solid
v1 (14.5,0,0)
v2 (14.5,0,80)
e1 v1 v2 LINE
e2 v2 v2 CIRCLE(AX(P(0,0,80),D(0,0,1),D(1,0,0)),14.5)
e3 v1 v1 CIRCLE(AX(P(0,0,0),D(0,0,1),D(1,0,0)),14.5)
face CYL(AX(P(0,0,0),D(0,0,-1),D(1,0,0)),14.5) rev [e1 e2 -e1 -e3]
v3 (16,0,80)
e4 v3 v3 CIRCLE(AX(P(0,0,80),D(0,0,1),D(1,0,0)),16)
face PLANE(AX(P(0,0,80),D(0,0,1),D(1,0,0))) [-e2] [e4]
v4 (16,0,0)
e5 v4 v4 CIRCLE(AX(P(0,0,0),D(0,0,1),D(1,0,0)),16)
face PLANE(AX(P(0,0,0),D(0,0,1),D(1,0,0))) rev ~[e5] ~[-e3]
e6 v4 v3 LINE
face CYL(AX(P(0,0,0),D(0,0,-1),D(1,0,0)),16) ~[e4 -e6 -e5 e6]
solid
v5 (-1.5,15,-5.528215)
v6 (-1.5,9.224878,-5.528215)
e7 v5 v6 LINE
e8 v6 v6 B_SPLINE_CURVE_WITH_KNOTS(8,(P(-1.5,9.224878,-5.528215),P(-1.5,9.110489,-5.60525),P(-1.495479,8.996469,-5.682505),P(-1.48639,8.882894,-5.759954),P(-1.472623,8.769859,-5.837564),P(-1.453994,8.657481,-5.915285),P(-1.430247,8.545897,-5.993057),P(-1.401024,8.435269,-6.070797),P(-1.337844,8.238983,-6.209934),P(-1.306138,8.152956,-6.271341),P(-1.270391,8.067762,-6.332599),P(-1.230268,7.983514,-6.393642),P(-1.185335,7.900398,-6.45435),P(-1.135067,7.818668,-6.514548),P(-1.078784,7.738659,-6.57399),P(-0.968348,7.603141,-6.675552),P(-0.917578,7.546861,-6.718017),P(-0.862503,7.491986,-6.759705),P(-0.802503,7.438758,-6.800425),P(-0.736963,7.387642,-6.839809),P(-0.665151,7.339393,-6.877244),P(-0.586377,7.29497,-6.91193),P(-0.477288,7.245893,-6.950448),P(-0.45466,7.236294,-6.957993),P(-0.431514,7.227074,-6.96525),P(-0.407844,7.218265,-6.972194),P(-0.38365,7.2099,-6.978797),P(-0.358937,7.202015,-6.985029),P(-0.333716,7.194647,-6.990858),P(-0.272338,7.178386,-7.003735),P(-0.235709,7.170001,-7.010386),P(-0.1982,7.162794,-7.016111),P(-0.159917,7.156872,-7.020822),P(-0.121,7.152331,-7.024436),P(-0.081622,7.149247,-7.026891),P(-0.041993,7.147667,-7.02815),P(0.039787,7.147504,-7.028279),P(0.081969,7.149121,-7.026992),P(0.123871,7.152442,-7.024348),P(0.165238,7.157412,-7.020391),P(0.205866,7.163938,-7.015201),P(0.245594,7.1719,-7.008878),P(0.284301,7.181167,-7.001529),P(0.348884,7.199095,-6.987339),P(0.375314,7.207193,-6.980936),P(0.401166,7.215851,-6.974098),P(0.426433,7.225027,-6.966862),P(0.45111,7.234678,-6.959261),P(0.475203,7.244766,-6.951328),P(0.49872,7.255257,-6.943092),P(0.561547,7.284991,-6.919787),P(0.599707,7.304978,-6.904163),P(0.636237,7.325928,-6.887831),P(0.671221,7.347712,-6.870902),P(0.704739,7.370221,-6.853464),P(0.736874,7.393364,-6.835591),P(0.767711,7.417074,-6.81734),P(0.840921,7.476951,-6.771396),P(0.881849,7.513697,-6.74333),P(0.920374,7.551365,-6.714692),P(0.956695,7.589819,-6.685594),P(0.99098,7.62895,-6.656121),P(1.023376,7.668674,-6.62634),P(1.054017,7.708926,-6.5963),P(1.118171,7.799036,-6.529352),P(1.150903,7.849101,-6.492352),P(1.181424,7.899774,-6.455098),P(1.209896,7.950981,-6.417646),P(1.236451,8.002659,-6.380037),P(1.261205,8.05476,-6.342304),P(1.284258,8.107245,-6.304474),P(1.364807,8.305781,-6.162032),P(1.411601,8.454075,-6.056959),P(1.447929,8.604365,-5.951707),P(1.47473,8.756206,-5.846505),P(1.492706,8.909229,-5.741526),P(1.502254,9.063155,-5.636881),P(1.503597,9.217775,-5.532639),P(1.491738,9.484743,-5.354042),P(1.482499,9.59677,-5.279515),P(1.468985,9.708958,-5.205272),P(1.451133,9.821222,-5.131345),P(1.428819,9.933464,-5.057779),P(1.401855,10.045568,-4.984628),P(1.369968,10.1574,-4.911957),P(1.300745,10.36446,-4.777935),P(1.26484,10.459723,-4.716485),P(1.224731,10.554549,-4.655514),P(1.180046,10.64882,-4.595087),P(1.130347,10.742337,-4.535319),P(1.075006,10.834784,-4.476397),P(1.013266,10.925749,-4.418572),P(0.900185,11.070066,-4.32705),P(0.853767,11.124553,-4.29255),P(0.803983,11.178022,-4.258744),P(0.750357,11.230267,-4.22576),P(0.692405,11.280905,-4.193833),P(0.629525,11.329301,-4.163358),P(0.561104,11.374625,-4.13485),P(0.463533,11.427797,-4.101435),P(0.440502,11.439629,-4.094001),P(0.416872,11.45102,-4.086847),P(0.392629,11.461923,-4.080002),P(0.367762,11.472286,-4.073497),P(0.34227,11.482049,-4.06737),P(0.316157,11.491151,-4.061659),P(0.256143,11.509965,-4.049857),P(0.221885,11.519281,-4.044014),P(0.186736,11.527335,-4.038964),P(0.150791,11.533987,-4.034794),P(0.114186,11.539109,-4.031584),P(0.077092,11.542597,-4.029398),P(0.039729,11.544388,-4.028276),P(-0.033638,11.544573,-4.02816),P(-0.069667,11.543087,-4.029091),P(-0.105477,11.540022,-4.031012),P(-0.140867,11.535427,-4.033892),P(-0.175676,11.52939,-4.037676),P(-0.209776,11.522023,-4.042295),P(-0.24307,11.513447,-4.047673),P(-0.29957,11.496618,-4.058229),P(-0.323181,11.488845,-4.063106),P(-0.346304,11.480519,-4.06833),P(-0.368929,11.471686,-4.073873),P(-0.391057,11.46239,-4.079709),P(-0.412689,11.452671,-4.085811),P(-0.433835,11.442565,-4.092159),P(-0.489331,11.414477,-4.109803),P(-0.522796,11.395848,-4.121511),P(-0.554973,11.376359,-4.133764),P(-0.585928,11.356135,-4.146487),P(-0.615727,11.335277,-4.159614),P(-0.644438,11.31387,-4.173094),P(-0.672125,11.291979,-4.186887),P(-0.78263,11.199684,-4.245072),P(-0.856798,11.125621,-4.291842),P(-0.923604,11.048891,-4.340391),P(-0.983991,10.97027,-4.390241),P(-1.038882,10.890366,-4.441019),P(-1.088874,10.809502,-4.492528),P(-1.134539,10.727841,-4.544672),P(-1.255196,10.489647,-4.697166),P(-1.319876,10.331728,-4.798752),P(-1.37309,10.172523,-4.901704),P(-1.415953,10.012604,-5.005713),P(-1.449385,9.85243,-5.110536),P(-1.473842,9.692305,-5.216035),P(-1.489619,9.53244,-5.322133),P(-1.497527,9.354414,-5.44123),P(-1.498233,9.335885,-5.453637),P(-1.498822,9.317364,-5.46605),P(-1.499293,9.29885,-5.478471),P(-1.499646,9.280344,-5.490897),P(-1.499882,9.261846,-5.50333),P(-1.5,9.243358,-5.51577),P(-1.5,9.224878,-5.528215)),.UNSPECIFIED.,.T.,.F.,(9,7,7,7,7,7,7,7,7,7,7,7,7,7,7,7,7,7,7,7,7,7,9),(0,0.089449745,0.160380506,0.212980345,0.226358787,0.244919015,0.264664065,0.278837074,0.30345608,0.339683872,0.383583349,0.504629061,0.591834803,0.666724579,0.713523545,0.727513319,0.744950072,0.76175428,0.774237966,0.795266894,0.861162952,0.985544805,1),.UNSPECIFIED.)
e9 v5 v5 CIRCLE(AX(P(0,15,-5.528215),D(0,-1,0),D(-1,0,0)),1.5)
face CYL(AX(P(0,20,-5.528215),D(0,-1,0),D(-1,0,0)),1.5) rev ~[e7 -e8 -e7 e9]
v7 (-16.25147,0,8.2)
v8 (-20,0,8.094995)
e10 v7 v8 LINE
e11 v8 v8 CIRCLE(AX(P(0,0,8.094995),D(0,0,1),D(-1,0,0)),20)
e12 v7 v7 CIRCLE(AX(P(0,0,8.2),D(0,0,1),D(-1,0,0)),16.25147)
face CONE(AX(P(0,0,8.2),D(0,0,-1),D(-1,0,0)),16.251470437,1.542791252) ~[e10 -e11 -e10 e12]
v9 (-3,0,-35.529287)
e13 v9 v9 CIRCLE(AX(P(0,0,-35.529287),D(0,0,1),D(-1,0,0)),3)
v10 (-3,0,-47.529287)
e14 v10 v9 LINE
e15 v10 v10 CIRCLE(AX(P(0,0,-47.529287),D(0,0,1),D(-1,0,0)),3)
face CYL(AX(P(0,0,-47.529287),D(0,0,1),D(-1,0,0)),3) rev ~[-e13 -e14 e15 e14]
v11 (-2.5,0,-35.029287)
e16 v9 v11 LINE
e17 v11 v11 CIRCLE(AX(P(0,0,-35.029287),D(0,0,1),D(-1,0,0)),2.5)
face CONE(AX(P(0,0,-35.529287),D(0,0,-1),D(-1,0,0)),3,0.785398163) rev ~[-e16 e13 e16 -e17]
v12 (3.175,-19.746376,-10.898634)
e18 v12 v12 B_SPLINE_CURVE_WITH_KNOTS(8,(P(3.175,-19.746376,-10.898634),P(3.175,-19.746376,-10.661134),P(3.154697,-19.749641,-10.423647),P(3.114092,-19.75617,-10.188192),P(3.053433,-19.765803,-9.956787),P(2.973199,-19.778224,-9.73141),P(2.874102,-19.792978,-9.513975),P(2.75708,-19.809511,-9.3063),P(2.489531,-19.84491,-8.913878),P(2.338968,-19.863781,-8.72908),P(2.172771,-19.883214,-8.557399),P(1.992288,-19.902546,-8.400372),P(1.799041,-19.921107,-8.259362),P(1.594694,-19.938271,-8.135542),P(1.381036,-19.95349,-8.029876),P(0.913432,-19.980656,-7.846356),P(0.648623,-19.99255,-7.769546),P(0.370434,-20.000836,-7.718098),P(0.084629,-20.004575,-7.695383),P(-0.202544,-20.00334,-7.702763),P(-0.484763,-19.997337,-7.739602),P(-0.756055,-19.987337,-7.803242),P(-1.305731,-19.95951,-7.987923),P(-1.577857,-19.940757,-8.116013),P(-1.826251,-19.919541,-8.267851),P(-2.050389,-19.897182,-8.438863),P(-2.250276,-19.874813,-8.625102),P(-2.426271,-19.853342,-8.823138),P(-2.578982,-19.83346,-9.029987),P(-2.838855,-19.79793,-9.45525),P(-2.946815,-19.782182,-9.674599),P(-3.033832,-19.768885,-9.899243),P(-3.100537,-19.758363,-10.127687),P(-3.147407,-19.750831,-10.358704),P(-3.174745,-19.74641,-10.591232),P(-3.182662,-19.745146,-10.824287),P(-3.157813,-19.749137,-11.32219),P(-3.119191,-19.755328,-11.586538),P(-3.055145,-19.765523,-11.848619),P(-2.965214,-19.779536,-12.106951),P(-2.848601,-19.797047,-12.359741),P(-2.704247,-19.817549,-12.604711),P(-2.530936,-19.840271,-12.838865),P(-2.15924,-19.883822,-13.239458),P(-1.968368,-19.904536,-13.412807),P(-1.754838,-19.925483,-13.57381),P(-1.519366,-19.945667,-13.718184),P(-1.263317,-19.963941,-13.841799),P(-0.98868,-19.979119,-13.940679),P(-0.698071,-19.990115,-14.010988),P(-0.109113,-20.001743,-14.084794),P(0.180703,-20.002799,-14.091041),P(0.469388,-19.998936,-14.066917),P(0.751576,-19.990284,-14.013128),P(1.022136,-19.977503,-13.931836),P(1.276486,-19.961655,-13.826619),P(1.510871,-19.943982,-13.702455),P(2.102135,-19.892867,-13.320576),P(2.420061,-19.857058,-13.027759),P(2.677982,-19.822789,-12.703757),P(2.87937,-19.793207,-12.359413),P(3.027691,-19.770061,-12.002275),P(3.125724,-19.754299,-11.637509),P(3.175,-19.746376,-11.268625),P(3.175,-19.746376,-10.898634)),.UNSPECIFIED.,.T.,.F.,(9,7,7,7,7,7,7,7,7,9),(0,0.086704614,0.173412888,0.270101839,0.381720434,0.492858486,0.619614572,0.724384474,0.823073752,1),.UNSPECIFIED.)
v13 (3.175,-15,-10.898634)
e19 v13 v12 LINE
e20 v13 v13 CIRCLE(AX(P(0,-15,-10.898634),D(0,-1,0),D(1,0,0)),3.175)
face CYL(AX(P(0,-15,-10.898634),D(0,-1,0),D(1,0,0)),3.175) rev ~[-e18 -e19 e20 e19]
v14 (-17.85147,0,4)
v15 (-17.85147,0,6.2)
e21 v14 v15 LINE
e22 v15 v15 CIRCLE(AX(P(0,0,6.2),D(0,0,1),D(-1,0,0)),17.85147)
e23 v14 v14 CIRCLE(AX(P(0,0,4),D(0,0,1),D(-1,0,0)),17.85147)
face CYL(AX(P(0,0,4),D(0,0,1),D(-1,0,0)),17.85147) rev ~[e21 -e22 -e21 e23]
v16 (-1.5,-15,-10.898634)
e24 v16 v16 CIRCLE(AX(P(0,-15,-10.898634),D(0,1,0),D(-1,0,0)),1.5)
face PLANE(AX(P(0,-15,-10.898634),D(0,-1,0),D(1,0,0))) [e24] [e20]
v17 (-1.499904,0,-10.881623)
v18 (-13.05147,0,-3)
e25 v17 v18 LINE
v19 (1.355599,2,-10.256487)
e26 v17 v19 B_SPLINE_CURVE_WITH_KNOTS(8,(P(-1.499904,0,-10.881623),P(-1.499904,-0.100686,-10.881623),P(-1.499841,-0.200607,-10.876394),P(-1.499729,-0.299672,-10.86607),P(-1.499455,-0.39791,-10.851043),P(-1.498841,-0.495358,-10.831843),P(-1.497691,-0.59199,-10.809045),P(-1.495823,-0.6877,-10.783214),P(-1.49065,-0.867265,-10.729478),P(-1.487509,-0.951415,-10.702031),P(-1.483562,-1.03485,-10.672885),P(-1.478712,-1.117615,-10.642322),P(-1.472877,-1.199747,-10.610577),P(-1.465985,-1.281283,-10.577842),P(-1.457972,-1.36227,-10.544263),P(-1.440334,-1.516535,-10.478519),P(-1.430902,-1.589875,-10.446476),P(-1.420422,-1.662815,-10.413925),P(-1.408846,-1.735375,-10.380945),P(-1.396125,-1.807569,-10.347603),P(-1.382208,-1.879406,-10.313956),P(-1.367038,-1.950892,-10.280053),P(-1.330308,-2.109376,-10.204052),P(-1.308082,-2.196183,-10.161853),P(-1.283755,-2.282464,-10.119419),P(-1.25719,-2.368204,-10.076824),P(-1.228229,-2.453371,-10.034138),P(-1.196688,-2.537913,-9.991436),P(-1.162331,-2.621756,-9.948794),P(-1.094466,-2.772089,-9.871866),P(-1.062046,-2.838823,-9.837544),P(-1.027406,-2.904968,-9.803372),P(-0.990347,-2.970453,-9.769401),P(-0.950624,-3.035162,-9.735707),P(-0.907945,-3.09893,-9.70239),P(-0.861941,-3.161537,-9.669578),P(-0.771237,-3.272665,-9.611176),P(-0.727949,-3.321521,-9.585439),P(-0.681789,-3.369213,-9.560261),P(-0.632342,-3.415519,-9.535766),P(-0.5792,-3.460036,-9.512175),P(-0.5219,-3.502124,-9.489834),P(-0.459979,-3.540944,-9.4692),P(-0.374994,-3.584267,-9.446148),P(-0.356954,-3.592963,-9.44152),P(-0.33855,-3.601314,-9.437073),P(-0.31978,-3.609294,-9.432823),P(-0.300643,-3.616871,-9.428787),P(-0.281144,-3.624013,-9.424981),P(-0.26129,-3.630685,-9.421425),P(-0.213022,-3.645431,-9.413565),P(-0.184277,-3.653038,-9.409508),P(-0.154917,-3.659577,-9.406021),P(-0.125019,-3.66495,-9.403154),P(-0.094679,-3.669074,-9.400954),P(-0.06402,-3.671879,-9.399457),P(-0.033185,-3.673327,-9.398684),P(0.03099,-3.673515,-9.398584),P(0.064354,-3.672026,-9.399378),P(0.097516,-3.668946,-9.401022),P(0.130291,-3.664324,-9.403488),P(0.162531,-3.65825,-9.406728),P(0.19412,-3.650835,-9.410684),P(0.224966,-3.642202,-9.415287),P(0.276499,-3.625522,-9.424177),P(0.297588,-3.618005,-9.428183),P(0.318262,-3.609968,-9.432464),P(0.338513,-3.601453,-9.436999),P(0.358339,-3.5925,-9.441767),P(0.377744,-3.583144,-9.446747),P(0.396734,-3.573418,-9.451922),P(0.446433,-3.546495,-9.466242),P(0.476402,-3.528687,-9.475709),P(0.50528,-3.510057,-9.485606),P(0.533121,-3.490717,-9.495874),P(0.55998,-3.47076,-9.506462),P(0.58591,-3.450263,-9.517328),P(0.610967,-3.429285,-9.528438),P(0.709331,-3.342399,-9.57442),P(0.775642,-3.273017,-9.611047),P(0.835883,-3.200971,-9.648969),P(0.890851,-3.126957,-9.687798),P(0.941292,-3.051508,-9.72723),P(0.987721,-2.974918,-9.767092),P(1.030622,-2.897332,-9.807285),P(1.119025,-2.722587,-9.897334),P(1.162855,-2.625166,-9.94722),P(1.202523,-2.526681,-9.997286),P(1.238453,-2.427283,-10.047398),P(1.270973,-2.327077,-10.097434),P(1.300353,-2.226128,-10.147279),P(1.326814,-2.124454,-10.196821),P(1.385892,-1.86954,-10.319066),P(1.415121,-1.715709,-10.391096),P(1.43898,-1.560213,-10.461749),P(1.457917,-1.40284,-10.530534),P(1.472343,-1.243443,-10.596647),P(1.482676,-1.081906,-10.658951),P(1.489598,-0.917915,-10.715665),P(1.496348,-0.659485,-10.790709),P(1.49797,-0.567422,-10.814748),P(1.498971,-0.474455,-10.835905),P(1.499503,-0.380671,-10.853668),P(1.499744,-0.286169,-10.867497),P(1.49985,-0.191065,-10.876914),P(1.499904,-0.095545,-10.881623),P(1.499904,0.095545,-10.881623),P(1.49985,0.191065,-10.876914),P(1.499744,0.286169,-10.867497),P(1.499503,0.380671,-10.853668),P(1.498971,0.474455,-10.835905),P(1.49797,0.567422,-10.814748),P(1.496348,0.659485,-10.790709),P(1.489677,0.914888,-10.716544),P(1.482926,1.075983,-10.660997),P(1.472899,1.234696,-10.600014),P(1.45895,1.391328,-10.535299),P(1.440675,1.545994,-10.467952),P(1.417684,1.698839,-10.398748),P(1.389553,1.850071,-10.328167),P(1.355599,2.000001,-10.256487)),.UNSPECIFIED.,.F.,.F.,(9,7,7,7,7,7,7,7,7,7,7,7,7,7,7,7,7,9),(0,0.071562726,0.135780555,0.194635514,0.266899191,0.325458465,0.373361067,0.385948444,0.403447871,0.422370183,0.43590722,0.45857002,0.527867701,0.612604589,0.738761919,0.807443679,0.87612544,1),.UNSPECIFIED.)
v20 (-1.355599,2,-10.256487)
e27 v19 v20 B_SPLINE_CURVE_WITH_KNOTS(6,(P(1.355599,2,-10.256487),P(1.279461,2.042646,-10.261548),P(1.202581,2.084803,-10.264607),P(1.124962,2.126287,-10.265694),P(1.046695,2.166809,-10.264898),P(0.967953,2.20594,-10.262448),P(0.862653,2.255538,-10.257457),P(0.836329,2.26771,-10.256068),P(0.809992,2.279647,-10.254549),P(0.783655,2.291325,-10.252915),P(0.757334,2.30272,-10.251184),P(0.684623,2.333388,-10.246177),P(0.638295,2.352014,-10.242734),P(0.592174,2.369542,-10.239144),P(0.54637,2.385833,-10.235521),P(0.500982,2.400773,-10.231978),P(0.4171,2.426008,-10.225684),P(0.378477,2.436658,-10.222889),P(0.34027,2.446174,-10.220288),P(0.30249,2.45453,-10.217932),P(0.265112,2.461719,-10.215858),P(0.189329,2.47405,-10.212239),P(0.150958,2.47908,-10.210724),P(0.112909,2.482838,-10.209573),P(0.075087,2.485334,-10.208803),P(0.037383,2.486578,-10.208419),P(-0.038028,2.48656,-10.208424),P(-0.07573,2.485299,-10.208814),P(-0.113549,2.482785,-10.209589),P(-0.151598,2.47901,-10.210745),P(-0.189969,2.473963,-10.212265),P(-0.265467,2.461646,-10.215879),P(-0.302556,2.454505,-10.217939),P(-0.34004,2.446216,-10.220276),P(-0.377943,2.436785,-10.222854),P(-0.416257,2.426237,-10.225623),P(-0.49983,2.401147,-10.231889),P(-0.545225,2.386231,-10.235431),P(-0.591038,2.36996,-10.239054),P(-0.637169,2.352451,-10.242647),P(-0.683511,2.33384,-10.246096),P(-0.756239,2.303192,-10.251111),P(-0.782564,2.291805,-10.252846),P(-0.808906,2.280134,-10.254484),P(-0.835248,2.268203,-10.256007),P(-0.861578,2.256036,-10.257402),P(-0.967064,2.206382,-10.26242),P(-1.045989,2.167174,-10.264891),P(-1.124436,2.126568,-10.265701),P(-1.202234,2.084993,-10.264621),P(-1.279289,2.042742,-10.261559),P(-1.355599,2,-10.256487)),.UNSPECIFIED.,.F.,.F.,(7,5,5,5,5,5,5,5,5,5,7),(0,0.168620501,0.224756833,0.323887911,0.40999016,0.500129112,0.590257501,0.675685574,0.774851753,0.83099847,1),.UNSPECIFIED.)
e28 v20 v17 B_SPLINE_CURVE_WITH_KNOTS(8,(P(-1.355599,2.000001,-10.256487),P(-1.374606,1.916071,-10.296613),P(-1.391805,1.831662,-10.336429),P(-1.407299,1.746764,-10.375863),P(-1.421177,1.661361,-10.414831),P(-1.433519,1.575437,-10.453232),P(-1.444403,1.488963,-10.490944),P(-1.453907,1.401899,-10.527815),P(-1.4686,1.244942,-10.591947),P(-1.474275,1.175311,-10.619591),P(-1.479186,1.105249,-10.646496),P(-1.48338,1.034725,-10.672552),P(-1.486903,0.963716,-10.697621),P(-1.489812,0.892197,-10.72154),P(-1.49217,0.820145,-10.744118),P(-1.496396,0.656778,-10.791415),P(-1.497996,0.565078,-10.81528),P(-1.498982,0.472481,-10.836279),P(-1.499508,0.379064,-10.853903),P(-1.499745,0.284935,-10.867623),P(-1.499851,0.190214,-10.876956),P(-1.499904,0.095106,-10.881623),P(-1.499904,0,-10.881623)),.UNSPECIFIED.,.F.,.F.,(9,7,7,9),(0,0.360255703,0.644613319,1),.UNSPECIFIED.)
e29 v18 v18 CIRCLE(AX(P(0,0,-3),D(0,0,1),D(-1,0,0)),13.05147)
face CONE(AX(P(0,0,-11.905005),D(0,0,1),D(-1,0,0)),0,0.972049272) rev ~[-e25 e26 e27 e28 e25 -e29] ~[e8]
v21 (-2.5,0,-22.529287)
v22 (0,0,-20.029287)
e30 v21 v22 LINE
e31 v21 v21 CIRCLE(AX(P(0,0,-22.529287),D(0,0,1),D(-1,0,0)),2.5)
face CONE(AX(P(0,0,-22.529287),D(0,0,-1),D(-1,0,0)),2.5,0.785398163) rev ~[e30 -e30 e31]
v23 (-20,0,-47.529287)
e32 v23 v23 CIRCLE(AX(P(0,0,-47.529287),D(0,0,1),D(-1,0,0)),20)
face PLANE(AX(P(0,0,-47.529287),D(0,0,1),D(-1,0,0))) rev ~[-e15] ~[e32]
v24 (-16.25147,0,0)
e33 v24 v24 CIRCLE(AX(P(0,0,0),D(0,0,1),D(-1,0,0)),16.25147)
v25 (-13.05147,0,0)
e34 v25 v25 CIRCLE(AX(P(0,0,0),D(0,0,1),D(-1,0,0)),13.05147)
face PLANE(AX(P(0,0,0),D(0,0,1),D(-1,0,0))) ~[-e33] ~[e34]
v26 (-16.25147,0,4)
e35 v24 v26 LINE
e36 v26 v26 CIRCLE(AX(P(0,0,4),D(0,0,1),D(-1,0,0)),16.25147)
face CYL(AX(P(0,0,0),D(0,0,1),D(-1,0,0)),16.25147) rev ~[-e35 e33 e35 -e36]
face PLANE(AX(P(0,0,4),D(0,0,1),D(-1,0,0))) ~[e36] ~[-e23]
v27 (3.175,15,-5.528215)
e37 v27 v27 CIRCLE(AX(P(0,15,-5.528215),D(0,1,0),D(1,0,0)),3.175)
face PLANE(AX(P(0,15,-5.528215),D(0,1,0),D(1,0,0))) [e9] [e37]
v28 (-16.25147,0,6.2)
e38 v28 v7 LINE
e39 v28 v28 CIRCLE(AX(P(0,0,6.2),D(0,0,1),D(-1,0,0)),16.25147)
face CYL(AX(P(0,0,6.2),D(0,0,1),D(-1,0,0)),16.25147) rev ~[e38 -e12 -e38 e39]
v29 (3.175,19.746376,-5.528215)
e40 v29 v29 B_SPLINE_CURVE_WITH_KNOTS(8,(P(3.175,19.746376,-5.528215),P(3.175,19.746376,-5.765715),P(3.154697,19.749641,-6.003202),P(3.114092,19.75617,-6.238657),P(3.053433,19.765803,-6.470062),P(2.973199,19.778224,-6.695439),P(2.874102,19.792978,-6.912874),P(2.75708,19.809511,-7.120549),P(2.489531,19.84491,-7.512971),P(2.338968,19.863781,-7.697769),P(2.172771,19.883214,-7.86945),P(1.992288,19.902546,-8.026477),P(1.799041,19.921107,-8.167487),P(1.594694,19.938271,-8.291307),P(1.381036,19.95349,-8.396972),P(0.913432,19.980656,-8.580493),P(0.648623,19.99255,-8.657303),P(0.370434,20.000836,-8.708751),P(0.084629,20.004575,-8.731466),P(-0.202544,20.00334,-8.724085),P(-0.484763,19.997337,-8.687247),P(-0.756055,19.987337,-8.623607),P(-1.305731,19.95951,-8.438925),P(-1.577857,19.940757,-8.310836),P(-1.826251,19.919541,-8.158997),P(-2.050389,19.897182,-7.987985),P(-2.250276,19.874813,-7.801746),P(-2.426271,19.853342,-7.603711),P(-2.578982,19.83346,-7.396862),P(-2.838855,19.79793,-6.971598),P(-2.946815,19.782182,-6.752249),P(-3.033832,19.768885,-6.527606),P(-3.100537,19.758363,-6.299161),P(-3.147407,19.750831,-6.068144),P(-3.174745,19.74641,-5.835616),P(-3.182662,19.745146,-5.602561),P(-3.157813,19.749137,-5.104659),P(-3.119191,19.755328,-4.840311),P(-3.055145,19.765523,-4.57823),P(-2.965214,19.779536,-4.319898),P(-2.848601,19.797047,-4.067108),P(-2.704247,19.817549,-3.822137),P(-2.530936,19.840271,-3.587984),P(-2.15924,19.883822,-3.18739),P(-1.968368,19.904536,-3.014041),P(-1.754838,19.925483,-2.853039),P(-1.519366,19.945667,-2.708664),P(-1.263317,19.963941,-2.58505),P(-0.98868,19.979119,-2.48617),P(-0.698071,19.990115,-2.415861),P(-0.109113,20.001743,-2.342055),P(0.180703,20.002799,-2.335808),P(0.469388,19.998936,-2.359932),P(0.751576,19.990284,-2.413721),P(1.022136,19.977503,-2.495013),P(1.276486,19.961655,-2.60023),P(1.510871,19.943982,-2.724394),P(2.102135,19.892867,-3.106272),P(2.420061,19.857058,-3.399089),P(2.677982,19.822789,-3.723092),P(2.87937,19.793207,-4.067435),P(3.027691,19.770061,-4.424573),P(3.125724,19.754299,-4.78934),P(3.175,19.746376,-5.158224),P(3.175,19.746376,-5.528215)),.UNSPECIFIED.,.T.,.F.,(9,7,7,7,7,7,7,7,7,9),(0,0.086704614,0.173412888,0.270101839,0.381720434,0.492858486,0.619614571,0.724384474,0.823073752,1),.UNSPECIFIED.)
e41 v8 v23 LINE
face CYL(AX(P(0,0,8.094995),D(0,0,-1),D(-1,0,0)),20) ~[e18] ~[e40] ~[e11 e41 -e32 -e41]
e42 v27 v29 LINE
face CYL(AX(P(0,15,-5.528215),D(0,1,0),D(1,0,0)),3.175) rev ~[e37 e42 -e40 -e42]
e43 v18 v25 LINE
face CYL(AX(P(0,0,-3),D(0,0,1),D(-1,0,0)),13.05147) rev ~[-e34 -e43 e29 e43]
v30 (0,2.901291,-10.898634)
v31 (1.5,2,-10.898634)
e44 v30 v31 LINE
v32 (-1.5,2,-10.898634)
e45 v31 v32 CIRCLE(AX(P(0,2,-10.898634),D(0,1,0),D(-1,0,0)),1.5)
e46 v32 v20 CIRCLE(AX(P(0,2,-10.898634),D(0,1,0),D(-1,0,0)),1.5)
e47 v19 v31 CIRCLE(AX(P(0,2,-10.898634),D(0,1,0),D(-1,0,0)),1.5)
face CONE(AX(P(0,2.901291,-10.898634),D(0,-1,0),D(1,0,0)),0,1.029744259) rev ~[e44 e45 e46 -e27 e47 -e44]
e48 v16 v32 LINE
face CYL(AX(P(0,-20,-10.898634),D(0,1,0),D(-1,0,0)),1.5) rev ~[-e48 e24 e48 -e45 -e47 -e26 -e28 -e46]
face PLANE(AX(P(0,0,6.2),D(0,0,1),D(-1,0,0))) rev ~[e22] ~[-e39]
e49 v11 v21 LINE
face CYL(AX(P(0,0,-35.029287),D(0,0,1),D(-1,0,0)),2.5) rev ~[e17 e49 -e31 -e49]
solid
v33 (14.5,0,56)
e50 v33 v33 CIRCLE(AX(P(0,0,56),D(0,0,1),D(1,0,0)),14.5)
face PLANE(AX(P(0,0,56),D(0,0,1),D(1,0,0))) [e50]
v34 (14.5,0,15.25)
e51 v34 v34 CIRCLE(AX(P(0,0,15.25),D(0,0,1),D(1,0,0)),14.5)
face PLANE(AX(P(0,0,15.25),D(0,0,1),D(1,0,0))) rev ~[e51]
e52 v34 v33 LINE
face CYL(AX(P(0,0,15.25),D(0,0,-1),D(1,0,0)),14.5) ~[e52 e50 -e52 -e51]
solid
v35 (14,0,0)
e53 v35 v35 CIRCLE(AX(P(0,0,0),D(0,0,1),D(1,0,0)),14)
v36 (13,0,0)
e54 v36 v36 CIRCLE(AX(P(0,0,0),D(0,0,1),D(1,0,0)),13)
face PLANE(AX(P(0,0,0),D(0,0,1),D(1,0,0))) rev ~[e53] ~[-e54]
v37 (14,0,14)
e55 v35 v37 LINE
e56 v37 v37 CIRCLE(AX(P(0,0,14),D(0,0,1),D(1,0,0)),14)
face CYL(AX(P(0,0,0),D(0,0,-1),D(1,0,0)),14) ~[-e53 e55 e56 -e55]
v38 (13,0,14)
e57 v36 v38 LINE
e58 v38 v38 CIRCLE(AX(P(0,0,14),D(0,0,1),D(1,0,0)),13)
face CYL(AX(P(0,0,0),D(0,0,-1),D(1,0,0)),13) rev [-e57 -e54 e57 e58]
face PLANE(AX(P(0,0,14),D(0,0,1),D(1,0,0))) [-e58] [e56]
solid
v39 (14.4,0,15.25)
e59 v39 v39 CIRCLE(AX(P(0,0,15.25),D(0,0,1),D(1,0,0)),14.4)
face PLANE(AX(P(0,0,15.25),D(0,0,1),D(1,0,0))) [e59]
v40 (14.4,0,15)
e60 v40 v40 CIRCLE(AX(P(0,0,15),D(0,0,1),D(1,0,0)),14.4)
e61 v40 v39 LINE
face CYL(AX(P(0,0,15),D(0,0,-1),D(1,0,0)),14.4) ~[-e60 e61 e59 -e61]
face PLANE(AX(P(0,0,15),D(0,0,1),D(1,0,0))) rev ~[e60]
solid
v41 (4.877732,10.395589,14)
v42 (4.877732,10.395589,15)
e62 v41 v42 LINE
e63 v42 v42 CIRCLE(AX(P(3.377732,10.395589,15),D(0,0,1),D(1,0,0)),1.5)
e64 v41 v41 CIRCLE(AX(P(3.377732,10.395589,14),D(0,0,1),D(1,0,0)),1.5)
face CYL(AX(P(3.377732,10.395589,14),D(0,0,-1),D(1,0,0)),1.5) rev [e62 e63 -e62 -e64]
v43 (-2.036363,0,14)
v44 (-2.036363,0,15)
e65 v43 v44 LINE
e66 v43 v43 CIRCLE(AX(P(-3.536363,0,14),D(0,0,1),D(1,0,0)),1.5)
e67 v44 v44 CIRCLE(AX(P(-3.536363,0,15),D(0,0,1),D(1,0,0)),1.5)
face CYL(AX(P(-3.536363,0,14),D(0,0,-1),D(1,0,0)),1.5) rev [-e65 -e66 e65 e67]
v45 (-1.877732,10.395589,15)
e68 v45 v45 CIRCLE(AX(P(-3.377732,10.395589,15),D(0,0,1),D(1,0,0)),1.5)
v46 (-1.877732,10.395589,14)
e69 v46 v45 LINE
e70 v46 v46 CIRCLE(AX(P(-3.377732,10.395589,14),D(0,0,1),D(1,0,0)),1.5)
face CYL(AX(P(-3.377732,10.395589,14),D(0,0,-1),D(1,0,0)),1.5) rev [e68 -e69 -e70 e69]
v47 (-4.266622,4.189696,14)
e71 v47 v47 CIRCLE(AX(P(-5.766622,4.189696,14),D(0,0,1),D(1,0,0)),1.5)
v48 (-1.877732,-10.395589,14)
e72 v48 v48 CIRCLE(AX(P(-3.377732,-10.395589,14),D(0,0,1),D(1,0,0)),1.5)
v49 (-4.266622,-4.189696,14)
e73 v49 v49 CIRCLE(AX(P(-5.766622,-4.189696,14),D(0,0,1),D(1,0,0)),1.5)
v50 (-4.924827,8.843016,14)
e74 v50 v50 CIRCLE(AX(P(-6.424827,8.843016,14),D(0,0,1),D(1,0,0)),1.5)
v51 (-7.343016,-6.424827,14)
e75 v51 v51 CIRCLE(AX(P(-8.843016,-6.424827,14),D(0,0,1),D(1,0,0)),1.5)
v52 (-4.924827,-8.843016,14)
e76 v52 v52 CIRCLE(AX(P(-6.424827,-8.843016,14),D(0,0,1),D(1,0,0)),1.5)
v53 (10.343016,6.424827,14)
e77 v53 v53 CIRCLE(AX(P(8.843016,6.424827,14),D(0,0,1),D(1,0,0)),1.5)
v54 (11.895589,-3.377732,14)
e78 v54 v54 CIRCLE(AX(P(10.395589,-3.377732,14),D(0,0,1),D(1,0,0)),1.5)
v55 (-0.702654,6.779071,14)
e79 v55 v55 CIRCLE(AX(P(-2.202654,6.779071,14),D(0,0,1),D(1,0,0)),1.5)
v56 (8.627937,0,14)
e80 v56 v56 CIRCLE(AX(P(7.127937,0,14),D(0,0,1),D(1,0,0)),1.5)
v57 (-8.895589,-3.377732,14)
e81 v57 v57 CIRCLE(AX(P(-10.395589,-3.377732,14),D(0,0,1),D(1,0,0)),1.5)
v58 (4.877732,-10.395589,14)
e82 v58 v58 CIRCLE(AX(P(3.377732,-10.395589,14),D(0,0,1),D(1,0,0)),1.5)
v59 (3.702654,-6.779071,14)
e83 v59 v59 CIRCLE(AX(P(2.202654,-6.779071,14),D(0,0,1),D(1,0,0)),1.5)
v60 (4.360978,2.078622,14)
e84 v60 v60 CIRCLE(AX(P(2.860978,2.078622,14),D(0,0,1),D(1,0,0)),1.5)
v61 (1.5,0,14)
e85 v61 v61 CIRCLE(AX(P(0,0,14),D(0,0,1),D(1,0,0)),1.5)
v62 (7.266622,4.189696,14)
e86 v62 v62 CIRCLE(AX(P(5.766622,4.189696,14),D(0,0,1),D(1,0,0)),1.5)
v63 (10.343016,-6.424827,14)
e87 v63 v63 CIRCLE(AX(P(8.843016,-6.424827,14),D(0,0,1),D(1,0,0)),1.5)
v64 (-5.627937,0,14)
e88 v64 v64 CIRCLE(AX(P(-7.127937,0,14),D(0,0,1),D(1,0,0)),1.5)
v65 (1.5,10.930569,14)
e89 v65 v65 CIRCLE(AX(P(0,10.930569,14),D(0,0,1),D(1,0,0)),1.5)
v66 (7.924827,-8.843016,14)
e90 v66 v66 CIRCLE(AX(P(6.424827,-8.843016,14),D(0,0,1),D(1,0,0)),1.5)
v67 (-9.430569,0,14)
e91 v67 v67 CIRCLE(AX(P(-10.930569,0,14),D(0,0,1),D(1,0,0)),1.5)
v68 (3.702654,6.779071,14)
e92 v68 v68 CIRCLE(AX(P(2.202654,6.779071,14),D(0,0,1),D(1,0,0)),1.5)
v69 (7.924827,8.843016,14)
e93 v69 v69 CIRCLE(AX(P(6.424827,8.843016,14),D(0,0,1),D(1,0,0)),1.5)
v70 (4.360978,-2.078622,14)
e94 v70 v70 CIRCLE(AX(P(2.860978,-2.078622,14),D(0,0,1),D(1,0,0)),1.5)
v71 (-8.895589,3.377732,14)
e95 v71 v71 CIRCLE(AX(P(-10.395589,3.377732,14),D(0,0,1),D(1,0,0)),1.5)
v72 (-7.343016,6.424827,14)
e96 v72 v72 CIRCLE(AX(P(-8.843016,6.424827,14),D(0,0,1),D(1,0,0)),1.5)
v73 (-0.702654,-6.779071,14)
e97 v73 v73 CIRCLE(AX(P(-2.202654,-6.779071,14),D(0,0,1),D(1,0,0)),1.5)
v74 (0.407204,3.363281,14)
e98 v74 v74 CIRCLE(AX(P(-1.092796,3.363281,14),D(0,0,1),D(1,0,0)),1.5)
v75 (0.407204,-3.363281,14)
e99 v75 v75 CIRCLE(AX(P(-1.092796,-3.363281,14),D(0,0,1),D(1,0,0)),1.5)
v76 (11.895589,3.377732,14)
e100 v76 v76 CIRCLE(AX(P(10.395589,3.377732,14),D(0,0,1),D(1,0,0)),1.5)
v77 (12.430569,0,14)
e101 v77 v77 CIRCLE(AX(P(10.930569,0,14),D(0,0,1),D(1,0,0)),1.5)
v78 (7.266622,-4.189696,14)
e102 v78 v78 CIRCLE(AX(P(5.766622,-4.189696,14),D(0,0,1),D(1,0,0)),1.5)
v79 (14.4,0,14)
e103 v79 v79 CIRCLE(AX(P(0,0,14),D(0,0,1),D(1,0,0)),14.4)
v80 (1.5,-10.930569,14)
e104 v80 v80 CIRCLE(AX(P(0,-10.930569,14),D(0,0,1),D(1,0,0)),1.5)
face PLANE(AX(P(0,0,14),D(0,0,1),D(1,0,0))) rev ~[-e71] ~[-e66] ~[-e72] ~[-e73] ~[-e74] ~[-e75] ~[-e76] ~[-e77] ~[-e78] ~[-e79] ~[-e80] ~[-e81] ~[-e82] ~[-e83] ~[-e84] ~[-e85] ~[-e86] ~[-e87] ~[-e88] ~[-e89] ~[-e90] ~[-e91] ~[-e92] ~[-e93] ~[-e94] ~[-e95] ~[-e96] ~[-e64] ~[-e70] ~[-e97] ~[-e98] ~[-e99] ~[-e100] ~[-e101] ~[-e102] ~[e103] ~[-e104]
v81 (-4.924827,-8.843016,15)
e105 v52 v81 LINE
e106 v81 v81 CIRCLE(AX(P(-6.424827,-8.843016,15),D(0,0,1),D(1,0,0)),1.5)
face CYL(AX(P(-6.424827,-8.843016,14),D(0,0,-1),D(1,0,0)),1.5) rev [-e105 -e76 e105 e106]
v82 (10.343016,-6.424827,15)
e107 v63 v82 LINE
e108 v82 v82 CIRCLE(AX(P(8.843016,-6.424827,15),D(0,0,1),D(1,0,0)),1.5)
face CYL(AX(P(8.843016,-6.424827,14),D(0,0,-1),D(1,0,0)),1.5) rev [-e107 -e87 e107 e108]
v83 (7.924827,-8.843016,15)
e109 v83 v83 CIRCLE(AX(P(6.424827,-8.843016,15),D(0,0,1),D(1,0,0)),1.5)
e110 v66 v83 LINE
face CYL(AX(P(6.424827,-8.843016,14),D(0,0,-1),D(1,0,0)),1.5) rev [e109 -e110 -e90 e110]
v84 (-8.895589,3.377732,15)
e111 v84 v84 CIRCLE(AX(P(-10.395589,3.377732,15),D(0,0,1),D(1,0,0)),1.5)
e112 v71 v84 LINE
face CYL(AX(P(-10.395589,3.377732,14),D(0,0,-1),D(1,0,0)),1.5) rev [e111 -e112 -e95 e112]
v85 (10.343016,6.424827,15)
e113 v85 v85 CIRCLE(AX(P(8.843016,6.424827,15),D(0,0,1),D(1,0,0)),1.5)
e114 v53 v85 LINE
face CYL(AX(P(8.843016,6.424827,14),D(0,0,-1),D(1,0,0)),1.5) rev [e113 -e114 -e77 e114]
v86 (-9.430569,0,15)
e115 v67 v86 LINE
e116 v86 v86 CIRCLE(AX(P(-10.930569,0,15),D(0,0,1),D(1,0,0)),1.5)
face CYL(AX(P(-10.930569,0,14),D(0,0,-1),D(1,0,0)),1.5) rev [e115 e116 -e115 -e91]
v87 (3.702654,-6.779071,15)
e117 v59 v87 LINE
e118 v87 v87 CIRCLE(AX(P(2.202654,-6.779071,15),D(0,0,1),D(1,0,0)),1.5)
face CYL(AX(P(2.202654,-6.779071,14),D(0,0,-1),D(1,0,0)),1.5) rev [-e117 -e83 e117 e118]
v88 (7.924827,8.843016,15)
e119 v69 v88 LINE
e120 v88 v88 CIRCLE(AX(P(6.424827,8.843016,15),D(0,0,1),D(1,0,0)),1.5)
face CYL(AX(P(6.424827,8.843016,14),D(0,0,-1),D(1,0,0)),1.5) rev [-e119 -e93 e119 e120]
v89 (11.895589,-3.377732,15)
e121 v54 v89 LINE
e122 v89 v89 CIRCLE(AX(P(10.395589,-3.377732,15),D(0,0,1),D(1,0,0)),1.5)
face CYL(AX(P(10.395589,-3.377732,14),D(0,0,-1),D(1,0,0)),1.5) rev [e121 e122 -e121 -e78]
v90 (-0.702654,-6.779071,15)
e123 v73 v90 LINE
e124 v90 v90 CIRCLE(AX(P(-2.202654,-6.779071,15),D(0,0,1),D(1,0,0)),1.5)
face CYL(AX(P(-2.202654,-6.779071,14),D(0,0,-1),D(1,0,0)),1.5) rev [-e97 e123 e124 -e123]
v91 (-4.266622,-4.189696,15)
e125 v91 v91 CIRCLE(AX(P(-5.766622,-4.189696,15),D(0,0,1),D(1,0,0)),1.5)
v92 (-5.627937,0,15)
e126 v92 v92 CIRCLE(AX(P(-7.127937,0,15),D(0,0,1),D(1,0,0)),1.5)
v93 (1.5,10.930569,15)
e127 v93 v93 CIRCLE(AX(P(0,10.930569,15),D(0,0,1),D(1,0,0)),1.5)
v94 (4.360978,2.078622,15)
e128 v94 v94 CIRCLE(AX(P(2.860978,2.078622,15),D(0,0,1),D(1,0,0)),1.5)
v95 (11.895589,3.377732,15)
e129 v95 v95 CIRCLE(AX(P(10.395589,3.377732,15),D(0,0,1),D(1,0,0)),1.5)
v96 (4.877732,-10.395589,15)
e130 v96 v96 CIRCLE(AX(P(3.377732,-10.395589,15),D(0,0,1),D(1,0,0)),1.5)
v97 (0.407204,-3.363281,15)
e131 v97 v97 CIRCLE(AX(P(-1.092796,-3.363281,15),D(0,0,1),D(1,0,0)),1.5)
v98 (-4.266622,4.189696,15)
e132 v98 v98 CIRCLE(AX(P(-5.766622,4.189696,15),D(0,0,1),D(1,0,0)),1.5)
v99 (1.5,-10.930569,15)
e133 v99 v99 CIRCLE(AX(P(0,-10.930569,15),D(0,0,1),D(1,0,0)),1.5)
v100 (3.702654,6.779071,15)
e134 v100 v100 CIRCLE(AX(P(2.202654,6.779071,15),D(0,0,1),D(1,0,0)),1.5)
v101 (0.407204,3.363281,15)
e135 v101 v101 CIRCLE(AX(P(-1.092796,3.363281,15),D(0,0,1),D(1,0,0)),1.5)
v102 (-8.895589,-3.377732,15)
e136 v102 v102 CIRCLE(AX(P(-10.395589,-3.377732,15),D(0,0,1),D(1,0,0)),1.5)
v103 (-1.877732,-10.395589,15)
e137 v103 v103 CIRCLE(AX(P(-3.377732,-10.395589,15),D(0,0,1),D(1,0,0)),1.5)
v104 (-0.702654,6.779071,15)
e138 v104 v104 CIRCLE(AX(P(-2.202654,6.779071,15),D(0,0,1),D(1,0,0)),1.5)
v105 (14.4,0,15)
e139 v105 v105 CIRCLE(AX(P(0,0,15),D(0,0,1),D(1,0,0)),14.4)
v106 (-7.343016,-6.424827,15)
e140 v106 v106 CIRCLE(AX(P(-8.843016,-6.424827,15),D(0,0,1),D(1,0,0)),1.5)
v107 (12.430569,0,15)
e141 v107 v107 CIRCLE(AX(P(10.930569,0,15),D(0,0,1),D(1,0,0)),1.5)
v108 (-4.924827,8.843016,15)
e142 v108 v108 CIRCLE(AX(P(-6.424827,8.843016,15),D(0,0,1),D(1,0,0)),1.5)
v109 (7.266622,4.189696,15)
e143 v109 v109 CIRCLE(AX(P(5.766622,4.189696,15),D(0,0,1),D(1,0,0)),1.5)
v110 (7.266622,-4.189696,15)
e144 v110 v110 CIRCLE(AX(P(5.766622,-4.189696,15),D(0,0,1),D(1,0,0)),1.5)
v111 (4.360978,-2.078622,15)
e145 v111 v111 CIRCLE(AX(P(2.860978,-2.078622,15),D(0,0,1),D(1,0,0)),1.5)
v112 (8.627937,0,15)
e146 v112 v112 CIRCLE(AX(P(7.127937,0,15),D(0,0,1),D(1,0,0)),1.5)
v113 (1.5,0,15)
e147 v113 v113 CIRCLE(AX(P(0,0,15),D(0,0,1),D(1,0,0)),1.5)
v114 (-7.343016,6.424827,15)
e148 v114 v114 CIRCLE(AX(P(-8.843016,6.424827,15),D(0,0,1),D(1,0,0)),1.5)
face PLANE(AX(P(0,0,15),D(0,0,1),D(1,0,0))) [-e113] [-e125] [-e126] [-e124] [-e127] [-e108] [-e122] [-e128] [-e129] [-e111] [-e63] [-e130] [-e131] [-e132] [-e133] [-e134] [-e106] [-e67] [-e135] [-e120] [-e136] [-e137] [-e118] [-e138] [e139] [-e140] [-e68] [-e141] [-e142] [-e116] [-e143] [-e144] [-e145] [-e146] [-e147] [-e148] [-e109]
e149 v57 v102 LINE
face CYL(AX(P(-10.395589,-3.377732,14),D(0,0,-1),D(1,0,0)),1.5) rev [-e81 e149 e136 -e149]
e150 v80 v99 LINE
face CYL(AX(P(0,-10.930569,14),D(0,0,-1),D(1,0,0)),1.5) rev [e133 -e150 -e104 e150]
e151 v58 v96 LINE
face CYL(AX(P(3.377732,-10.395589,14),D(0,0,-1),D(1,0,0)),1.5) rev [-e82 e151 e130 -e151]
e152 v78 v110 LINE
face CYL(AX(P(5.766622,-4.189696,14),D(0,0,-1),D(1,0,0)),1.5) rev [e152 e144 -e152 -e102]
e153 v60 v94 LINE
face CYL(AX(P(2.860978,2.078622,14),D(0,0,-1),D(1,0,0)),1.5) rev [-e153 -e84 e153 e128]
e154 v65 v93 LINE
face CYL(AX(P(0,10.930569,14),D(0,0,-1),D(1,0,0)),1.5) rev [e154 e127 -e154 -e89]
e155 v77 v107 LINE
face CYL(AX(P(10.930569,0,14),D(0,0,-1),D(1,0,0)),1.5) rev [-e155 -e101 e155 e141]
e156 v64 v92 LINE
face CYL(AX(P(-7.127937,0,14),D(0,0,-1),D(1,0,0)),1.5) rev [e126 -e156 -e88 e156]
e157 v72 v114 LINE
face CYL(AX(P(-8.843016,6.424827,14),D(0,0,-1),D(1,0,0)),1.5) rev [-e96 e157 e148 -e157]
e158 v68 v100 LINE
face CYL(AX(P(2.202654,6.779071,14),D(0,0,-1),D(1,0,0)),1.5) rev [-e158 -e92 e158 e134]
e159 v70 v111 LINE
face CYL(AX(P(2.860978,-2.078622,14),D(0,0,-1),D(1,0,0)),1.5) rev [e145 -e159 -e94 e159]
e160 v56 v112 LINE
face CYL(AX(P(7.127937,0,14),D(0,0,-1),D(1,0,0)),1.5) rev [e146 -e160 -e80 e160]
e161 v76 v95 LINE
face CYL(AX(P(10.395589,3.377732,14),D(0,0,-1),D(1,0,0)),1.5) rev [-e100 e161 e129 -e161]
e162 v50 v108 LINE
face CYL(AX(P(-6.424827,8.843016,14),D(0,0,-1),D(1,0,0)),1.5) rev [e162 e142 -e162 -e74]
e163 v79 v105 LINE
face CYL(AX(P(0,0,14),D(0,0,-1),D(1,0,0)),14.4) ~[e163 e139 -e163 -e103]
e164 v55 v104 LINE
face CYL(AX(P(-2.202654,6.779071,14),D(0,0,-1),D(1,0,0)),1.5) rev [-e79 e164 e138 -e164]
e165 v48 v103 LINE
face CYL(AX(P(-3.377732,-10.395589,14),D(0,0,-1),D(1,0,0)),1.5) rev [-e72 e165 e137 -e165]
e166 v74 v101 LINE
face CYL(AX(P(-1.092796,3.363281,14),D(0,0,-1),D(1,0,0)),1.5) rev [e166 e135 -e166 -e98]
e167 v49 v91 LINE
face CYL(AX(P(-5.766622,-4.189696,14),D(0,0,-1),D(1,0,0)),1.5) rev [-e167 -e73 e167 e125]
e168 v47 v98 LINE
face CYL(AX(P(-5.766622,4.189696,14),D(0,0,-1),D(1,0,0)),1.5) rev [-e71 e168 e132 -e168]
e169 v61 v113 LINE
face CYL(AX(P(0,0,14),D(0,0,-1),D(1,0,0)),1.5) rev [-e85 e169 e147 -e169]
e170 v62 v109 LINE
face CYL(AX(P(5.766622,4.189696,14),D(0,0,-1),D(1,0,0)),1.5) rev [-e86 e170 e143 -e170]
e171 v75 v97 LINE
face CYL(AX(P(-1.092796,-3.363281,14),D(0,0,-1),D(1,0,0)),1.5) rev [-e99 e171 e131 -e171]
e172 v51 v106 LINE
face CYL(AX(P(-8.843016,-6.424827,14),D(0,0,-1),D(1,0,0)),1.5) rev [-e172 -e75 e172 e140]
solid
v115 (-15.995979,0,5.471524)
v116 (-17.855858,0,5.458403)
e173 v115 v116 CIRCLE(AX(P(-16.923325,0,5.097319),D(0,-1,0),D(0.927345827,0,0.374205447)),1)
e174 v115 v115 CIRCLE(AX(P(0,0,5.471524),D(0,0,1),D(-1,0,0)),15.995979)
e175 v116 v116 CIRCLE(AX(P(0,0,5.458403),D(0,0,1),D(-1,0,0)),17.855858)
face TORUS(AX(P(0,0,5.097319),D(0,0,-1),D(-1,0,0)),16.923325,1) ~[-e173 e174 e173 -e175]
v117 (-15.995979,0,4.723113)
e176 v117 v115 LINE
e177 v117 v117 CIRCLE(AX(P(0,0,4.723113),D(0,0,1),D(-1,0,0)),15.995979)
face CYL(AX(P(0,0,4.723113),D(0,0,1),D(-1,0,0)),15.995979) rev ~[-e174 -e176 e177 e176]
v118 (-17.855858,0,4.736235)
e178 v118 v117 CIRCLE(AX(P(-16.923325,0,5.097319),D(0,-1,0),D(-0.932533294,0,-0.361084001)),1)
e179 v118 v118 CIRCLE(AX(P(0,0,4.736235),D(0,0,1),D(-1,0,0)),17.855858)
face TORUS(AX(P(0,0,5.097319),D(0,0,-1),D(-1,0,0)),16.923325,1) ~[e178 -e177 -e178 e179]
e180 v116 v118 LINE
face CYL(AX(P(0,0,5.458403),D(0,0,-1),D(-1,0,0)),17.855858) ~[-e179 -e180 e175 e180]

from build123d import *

# Parameters (mm, degrees)
F0_R            = 16
F0_R_2          = 14.5
F1_DEPTH        = 80
F8_D            = 3
F8_DEPTH        = 22
F8_CBORE_D      = 6.35
F8_CBORE_DEPTH  = 5
F8_TIP          = 0.9012909285
F10_R           = 14.4
F11_DEPTH       = 1
F12_R           = 1.5
F13_DEPTH       = 1
F14_R           = 14.5
F15_DEPTH       = 40.75
F20_DEPTH       = 0.25
F22_R           = 14
F22_R_2         = 13
F23_DEPTH       = 14
F24_D           = 3
F24_DEPTH       = 22
F24_CBORE_D     = 6.35
F24_CBORE_DEPTH = 5
F24_TIP         = 0.9012909285


with BuildPart() as f1:
    # F0 (on Top) → F1 (new body)
    with BuildSketch(Plane.XY):
        Circle(F0_R)
        Circle(F0_R_2, mode=Mode.SUBTRACT)
    extrude(amount=F1_DEPTH)


with BuildPart() as f3:
    # F2 (on Front) → F3 (revolve)
    with BuildSketch(Plane.XZ):
        Polygon((-13.0514704368, 0), (-16.2514704368, 0), (-16.2514704368, 4), (-17.8514704368, 4), (-17.8514704368, 6.2), (-16.2514704368, 6.2), (-16.2514704368, 8.2), (-20, 8.0949946975), (-20, -47.5292870402), (-3, -47.5292870402), (-3, -35.5292870402), (-2.5, -35.0292870402), (-2.5, -22.5292870402), (0, -20.0292870402), (0, -11.9050053025), (-13.0514704368, -3), align=None)
    revolve(axis=Axis((0, 0, -15.9671461714), (0, 0, 1)))

    # F8
    with Locations(Plane(origin=(0, 20, 0), x_dir=(1, 0, 0), z_dir=(0, 1, 0))):
        with Locations((0, 5.5282147527)):
            CounterBoreHole(F8_D / 2, F8_CBORE_D / 2, F8_CBORE_DEPTH, depth=F8_DEPTH)
            with Locations((0, 0, -(F8_DEPTH + F8_TIP / 2))):  # 118° drill point
                Cone(0, F8_D / 2, F8_TIP, mode=Mode.SUBTRACT)

    # F24
    with Locations(Plane.XZ.offset(20)):
        with Locations((0, -10.8986339569)):
            CounterBoreHole(F24_D / 2, F24_CBORE_D / 2, F24_CBORE_DEPTH, depth=F24_DEPTH)
            with Locations((0, 0, -(F24_DEPTH + F24_TIP / 2))):  # 118° drill point
                Cone(0, F24_D / 2, F24_TIP, mode=Mode.SUBTRACT)


with BuildPart() as f1_1:
    # F9: moved
    add(f1.part)


with BuildPart() as f11:
    # F10 (on Top) → F11 (new body)
    with BuildSketch(Plane.XY):
        Circle(F10_R)
    extrude(amount=F11_DEPTH)

    # F12 (on Top) → F13 (cut)
    with BuildSketch(Plane.XY):
        with Locations((6.4248272051, -8.8430160073)):
            Circle(F12_R)
        with Locations((-6.4248272051, -8.8430160073)):
            Circle(F12_R)
        with Locations((-10.3955887897, -3.3777315517)):
            Circle(F12_R)
        with Locations((0, -10.9305689111)):
            Circle(F12_R)
        with Locations((-6.4248272051, 8.8430160073)):
            Circle(F12_R)
        with Locations((3.3777315517, 10.3955887897)):
            Circle(F12_R)
        with Locations((-10.3955887897, 3.3777315517)):
            Circle(F12_R)
        with Locations((0, 10.9305689111)):
            Circle(F12_R)
        with Locations((-5.7666221108, 4.1896962064)):
            Circle(F12_R)
        with Locations((2.8609776839, 2.0786219591)):
            Circle(F12_R)
        with Locations((-5.7666221108, -4.1896962064)):
            Circle(F12_R)
        with Locations((-3.3777315517, 10.3955887897)):
            Circle(F12_R)
        with Locations((8.8430160073, -6.4248272051)):
            Circle(F12_R)
        with Locations((-3.5363628995, 0)):
            Circle(F12_R)
        with Locations((-2.202653646, -6.7790708645)):
            Circle(F12_R)
        with Locations((-2.202653646, 6.7790708645)):
            Circle(F12_R)
        with Locations((8.8430160073, 6.4248272051)):
            Circle(F12_R)
        with Locations((2.202653646, 6.7790708645)):
            Circle(F12_R)
        with Locations((6.4248272051, 8.8430160073)):
            Circle(F12_R)
        Circle(F12_R)
        with Locations((10.3955887897, -3.3777315517)):
            Circle(F12_R)
        with Locations((10.9305689111, 0)):
            Circle(F12_R)
        with Locations((5.7666221108, 4.1896962064)):
            Circle(F12_R)
        with Locations((5.7666221108, -4.1896962064)):
            Circle(F12_R)
        with Locations((10.3955887897, 3.3777315517)):
            Circle(F12_R)
        with Locations((2.202653646, -6.7790708645)):
            Circle(F12_R)
        with Locations((-7.1279369295, 0)):
            Circle(F12_R)
        with Locations((-1.0927962342, -3.3632809795)):
            Circle(F12_R)
        with Locations((3.3777315517, -10.3955887897)):
            Circle(F12_R)
        with Locations((2.8609776839, -2.0786219591)):
            Circle(F12_R)
        with Locations((-1.0927962342, 3.3632809795)):
            Circle(F12_R)
        with Locations((-3.3777315517, -10.3955887897)):
            Circle(F12_R)
        with Locations((-8.8430160073, -6.4248272051)):
            Circle(F12_R)
        with Locations((-10.9305689111, 0)):
            Circle(F12_R)
        with Locations((-8.8430160073, 6.4248272051)):
            Circle(F12_R)
        with Locations((7.1279369295, 0)):
            Circle(F12_R)
    extrude(amount=F13_DEPTH, mode=Mode.SUBTRACT)


with BuildPart() as f15:
    # F14 (on Top) → F15 (new body)
    with BuildSketch(Plane.XY):
        Circle(F14_R)
    extrude(amount=F15_DEPTH)


with BuildPart() as f15_1:
    # F16: moved
    add(f15.part.moved(Location((0, 0, 15.25))))


with BuildPart() as f18:
    # F17 (on Front) → F18 (revolve)
    with BuildSketch(Plane.XZ):
        with BuildLine():
            Line((-17.8558584303, 5.4584029072), (-17.8558584303, 4.7362349055))
            ThreePointArc((-17.8558584303, 4.7362349055), (-16.9303799603, 4.0973437919), (-15.9959793091, 4.7231134591))
            Line((-15.9959793091, 4.7231134591), (-15.9959793091, 5.4715243536))
            ThreePointArc((-15.9959793091, 5.4715243536), (-16.9303799603, 6.0972940208), (-17.8558584303, 5.4584029072))
        make_face()
    revolve(axis=Axis((0, 0, -15.9671461714), (0, 0, 1)))


with BuildPart() as f11_1:
    # F19: moved
    add(f11.part.moved(Location((0, 0, 14))))


with BuildPart() as f20:
    # F10 (on Top) → F20 (new body)
    with BuildSketch(Plane.XY):
        Circle(F10_R)
    extrude(amount=F20_DEPTH)


with BuildPart() as f20_1:
    # F21: moved
    add(f20.part.moved(Location((0, 0, 15))))


with BuildPart() as f23:
    # F22 (on Top) → F23 (new body)
    with BuildSketch(Plane.XY):
        Circle(F22_R)
        Circle(F22_R_2, mode=Mode.SUBTRACT)
    extrude(amount=F23_DEPTH)


solid = Compound([f3.part, f1_1.part, f15_1.part, f18.part, f11_1.part, f20_1.part, f23.part])
